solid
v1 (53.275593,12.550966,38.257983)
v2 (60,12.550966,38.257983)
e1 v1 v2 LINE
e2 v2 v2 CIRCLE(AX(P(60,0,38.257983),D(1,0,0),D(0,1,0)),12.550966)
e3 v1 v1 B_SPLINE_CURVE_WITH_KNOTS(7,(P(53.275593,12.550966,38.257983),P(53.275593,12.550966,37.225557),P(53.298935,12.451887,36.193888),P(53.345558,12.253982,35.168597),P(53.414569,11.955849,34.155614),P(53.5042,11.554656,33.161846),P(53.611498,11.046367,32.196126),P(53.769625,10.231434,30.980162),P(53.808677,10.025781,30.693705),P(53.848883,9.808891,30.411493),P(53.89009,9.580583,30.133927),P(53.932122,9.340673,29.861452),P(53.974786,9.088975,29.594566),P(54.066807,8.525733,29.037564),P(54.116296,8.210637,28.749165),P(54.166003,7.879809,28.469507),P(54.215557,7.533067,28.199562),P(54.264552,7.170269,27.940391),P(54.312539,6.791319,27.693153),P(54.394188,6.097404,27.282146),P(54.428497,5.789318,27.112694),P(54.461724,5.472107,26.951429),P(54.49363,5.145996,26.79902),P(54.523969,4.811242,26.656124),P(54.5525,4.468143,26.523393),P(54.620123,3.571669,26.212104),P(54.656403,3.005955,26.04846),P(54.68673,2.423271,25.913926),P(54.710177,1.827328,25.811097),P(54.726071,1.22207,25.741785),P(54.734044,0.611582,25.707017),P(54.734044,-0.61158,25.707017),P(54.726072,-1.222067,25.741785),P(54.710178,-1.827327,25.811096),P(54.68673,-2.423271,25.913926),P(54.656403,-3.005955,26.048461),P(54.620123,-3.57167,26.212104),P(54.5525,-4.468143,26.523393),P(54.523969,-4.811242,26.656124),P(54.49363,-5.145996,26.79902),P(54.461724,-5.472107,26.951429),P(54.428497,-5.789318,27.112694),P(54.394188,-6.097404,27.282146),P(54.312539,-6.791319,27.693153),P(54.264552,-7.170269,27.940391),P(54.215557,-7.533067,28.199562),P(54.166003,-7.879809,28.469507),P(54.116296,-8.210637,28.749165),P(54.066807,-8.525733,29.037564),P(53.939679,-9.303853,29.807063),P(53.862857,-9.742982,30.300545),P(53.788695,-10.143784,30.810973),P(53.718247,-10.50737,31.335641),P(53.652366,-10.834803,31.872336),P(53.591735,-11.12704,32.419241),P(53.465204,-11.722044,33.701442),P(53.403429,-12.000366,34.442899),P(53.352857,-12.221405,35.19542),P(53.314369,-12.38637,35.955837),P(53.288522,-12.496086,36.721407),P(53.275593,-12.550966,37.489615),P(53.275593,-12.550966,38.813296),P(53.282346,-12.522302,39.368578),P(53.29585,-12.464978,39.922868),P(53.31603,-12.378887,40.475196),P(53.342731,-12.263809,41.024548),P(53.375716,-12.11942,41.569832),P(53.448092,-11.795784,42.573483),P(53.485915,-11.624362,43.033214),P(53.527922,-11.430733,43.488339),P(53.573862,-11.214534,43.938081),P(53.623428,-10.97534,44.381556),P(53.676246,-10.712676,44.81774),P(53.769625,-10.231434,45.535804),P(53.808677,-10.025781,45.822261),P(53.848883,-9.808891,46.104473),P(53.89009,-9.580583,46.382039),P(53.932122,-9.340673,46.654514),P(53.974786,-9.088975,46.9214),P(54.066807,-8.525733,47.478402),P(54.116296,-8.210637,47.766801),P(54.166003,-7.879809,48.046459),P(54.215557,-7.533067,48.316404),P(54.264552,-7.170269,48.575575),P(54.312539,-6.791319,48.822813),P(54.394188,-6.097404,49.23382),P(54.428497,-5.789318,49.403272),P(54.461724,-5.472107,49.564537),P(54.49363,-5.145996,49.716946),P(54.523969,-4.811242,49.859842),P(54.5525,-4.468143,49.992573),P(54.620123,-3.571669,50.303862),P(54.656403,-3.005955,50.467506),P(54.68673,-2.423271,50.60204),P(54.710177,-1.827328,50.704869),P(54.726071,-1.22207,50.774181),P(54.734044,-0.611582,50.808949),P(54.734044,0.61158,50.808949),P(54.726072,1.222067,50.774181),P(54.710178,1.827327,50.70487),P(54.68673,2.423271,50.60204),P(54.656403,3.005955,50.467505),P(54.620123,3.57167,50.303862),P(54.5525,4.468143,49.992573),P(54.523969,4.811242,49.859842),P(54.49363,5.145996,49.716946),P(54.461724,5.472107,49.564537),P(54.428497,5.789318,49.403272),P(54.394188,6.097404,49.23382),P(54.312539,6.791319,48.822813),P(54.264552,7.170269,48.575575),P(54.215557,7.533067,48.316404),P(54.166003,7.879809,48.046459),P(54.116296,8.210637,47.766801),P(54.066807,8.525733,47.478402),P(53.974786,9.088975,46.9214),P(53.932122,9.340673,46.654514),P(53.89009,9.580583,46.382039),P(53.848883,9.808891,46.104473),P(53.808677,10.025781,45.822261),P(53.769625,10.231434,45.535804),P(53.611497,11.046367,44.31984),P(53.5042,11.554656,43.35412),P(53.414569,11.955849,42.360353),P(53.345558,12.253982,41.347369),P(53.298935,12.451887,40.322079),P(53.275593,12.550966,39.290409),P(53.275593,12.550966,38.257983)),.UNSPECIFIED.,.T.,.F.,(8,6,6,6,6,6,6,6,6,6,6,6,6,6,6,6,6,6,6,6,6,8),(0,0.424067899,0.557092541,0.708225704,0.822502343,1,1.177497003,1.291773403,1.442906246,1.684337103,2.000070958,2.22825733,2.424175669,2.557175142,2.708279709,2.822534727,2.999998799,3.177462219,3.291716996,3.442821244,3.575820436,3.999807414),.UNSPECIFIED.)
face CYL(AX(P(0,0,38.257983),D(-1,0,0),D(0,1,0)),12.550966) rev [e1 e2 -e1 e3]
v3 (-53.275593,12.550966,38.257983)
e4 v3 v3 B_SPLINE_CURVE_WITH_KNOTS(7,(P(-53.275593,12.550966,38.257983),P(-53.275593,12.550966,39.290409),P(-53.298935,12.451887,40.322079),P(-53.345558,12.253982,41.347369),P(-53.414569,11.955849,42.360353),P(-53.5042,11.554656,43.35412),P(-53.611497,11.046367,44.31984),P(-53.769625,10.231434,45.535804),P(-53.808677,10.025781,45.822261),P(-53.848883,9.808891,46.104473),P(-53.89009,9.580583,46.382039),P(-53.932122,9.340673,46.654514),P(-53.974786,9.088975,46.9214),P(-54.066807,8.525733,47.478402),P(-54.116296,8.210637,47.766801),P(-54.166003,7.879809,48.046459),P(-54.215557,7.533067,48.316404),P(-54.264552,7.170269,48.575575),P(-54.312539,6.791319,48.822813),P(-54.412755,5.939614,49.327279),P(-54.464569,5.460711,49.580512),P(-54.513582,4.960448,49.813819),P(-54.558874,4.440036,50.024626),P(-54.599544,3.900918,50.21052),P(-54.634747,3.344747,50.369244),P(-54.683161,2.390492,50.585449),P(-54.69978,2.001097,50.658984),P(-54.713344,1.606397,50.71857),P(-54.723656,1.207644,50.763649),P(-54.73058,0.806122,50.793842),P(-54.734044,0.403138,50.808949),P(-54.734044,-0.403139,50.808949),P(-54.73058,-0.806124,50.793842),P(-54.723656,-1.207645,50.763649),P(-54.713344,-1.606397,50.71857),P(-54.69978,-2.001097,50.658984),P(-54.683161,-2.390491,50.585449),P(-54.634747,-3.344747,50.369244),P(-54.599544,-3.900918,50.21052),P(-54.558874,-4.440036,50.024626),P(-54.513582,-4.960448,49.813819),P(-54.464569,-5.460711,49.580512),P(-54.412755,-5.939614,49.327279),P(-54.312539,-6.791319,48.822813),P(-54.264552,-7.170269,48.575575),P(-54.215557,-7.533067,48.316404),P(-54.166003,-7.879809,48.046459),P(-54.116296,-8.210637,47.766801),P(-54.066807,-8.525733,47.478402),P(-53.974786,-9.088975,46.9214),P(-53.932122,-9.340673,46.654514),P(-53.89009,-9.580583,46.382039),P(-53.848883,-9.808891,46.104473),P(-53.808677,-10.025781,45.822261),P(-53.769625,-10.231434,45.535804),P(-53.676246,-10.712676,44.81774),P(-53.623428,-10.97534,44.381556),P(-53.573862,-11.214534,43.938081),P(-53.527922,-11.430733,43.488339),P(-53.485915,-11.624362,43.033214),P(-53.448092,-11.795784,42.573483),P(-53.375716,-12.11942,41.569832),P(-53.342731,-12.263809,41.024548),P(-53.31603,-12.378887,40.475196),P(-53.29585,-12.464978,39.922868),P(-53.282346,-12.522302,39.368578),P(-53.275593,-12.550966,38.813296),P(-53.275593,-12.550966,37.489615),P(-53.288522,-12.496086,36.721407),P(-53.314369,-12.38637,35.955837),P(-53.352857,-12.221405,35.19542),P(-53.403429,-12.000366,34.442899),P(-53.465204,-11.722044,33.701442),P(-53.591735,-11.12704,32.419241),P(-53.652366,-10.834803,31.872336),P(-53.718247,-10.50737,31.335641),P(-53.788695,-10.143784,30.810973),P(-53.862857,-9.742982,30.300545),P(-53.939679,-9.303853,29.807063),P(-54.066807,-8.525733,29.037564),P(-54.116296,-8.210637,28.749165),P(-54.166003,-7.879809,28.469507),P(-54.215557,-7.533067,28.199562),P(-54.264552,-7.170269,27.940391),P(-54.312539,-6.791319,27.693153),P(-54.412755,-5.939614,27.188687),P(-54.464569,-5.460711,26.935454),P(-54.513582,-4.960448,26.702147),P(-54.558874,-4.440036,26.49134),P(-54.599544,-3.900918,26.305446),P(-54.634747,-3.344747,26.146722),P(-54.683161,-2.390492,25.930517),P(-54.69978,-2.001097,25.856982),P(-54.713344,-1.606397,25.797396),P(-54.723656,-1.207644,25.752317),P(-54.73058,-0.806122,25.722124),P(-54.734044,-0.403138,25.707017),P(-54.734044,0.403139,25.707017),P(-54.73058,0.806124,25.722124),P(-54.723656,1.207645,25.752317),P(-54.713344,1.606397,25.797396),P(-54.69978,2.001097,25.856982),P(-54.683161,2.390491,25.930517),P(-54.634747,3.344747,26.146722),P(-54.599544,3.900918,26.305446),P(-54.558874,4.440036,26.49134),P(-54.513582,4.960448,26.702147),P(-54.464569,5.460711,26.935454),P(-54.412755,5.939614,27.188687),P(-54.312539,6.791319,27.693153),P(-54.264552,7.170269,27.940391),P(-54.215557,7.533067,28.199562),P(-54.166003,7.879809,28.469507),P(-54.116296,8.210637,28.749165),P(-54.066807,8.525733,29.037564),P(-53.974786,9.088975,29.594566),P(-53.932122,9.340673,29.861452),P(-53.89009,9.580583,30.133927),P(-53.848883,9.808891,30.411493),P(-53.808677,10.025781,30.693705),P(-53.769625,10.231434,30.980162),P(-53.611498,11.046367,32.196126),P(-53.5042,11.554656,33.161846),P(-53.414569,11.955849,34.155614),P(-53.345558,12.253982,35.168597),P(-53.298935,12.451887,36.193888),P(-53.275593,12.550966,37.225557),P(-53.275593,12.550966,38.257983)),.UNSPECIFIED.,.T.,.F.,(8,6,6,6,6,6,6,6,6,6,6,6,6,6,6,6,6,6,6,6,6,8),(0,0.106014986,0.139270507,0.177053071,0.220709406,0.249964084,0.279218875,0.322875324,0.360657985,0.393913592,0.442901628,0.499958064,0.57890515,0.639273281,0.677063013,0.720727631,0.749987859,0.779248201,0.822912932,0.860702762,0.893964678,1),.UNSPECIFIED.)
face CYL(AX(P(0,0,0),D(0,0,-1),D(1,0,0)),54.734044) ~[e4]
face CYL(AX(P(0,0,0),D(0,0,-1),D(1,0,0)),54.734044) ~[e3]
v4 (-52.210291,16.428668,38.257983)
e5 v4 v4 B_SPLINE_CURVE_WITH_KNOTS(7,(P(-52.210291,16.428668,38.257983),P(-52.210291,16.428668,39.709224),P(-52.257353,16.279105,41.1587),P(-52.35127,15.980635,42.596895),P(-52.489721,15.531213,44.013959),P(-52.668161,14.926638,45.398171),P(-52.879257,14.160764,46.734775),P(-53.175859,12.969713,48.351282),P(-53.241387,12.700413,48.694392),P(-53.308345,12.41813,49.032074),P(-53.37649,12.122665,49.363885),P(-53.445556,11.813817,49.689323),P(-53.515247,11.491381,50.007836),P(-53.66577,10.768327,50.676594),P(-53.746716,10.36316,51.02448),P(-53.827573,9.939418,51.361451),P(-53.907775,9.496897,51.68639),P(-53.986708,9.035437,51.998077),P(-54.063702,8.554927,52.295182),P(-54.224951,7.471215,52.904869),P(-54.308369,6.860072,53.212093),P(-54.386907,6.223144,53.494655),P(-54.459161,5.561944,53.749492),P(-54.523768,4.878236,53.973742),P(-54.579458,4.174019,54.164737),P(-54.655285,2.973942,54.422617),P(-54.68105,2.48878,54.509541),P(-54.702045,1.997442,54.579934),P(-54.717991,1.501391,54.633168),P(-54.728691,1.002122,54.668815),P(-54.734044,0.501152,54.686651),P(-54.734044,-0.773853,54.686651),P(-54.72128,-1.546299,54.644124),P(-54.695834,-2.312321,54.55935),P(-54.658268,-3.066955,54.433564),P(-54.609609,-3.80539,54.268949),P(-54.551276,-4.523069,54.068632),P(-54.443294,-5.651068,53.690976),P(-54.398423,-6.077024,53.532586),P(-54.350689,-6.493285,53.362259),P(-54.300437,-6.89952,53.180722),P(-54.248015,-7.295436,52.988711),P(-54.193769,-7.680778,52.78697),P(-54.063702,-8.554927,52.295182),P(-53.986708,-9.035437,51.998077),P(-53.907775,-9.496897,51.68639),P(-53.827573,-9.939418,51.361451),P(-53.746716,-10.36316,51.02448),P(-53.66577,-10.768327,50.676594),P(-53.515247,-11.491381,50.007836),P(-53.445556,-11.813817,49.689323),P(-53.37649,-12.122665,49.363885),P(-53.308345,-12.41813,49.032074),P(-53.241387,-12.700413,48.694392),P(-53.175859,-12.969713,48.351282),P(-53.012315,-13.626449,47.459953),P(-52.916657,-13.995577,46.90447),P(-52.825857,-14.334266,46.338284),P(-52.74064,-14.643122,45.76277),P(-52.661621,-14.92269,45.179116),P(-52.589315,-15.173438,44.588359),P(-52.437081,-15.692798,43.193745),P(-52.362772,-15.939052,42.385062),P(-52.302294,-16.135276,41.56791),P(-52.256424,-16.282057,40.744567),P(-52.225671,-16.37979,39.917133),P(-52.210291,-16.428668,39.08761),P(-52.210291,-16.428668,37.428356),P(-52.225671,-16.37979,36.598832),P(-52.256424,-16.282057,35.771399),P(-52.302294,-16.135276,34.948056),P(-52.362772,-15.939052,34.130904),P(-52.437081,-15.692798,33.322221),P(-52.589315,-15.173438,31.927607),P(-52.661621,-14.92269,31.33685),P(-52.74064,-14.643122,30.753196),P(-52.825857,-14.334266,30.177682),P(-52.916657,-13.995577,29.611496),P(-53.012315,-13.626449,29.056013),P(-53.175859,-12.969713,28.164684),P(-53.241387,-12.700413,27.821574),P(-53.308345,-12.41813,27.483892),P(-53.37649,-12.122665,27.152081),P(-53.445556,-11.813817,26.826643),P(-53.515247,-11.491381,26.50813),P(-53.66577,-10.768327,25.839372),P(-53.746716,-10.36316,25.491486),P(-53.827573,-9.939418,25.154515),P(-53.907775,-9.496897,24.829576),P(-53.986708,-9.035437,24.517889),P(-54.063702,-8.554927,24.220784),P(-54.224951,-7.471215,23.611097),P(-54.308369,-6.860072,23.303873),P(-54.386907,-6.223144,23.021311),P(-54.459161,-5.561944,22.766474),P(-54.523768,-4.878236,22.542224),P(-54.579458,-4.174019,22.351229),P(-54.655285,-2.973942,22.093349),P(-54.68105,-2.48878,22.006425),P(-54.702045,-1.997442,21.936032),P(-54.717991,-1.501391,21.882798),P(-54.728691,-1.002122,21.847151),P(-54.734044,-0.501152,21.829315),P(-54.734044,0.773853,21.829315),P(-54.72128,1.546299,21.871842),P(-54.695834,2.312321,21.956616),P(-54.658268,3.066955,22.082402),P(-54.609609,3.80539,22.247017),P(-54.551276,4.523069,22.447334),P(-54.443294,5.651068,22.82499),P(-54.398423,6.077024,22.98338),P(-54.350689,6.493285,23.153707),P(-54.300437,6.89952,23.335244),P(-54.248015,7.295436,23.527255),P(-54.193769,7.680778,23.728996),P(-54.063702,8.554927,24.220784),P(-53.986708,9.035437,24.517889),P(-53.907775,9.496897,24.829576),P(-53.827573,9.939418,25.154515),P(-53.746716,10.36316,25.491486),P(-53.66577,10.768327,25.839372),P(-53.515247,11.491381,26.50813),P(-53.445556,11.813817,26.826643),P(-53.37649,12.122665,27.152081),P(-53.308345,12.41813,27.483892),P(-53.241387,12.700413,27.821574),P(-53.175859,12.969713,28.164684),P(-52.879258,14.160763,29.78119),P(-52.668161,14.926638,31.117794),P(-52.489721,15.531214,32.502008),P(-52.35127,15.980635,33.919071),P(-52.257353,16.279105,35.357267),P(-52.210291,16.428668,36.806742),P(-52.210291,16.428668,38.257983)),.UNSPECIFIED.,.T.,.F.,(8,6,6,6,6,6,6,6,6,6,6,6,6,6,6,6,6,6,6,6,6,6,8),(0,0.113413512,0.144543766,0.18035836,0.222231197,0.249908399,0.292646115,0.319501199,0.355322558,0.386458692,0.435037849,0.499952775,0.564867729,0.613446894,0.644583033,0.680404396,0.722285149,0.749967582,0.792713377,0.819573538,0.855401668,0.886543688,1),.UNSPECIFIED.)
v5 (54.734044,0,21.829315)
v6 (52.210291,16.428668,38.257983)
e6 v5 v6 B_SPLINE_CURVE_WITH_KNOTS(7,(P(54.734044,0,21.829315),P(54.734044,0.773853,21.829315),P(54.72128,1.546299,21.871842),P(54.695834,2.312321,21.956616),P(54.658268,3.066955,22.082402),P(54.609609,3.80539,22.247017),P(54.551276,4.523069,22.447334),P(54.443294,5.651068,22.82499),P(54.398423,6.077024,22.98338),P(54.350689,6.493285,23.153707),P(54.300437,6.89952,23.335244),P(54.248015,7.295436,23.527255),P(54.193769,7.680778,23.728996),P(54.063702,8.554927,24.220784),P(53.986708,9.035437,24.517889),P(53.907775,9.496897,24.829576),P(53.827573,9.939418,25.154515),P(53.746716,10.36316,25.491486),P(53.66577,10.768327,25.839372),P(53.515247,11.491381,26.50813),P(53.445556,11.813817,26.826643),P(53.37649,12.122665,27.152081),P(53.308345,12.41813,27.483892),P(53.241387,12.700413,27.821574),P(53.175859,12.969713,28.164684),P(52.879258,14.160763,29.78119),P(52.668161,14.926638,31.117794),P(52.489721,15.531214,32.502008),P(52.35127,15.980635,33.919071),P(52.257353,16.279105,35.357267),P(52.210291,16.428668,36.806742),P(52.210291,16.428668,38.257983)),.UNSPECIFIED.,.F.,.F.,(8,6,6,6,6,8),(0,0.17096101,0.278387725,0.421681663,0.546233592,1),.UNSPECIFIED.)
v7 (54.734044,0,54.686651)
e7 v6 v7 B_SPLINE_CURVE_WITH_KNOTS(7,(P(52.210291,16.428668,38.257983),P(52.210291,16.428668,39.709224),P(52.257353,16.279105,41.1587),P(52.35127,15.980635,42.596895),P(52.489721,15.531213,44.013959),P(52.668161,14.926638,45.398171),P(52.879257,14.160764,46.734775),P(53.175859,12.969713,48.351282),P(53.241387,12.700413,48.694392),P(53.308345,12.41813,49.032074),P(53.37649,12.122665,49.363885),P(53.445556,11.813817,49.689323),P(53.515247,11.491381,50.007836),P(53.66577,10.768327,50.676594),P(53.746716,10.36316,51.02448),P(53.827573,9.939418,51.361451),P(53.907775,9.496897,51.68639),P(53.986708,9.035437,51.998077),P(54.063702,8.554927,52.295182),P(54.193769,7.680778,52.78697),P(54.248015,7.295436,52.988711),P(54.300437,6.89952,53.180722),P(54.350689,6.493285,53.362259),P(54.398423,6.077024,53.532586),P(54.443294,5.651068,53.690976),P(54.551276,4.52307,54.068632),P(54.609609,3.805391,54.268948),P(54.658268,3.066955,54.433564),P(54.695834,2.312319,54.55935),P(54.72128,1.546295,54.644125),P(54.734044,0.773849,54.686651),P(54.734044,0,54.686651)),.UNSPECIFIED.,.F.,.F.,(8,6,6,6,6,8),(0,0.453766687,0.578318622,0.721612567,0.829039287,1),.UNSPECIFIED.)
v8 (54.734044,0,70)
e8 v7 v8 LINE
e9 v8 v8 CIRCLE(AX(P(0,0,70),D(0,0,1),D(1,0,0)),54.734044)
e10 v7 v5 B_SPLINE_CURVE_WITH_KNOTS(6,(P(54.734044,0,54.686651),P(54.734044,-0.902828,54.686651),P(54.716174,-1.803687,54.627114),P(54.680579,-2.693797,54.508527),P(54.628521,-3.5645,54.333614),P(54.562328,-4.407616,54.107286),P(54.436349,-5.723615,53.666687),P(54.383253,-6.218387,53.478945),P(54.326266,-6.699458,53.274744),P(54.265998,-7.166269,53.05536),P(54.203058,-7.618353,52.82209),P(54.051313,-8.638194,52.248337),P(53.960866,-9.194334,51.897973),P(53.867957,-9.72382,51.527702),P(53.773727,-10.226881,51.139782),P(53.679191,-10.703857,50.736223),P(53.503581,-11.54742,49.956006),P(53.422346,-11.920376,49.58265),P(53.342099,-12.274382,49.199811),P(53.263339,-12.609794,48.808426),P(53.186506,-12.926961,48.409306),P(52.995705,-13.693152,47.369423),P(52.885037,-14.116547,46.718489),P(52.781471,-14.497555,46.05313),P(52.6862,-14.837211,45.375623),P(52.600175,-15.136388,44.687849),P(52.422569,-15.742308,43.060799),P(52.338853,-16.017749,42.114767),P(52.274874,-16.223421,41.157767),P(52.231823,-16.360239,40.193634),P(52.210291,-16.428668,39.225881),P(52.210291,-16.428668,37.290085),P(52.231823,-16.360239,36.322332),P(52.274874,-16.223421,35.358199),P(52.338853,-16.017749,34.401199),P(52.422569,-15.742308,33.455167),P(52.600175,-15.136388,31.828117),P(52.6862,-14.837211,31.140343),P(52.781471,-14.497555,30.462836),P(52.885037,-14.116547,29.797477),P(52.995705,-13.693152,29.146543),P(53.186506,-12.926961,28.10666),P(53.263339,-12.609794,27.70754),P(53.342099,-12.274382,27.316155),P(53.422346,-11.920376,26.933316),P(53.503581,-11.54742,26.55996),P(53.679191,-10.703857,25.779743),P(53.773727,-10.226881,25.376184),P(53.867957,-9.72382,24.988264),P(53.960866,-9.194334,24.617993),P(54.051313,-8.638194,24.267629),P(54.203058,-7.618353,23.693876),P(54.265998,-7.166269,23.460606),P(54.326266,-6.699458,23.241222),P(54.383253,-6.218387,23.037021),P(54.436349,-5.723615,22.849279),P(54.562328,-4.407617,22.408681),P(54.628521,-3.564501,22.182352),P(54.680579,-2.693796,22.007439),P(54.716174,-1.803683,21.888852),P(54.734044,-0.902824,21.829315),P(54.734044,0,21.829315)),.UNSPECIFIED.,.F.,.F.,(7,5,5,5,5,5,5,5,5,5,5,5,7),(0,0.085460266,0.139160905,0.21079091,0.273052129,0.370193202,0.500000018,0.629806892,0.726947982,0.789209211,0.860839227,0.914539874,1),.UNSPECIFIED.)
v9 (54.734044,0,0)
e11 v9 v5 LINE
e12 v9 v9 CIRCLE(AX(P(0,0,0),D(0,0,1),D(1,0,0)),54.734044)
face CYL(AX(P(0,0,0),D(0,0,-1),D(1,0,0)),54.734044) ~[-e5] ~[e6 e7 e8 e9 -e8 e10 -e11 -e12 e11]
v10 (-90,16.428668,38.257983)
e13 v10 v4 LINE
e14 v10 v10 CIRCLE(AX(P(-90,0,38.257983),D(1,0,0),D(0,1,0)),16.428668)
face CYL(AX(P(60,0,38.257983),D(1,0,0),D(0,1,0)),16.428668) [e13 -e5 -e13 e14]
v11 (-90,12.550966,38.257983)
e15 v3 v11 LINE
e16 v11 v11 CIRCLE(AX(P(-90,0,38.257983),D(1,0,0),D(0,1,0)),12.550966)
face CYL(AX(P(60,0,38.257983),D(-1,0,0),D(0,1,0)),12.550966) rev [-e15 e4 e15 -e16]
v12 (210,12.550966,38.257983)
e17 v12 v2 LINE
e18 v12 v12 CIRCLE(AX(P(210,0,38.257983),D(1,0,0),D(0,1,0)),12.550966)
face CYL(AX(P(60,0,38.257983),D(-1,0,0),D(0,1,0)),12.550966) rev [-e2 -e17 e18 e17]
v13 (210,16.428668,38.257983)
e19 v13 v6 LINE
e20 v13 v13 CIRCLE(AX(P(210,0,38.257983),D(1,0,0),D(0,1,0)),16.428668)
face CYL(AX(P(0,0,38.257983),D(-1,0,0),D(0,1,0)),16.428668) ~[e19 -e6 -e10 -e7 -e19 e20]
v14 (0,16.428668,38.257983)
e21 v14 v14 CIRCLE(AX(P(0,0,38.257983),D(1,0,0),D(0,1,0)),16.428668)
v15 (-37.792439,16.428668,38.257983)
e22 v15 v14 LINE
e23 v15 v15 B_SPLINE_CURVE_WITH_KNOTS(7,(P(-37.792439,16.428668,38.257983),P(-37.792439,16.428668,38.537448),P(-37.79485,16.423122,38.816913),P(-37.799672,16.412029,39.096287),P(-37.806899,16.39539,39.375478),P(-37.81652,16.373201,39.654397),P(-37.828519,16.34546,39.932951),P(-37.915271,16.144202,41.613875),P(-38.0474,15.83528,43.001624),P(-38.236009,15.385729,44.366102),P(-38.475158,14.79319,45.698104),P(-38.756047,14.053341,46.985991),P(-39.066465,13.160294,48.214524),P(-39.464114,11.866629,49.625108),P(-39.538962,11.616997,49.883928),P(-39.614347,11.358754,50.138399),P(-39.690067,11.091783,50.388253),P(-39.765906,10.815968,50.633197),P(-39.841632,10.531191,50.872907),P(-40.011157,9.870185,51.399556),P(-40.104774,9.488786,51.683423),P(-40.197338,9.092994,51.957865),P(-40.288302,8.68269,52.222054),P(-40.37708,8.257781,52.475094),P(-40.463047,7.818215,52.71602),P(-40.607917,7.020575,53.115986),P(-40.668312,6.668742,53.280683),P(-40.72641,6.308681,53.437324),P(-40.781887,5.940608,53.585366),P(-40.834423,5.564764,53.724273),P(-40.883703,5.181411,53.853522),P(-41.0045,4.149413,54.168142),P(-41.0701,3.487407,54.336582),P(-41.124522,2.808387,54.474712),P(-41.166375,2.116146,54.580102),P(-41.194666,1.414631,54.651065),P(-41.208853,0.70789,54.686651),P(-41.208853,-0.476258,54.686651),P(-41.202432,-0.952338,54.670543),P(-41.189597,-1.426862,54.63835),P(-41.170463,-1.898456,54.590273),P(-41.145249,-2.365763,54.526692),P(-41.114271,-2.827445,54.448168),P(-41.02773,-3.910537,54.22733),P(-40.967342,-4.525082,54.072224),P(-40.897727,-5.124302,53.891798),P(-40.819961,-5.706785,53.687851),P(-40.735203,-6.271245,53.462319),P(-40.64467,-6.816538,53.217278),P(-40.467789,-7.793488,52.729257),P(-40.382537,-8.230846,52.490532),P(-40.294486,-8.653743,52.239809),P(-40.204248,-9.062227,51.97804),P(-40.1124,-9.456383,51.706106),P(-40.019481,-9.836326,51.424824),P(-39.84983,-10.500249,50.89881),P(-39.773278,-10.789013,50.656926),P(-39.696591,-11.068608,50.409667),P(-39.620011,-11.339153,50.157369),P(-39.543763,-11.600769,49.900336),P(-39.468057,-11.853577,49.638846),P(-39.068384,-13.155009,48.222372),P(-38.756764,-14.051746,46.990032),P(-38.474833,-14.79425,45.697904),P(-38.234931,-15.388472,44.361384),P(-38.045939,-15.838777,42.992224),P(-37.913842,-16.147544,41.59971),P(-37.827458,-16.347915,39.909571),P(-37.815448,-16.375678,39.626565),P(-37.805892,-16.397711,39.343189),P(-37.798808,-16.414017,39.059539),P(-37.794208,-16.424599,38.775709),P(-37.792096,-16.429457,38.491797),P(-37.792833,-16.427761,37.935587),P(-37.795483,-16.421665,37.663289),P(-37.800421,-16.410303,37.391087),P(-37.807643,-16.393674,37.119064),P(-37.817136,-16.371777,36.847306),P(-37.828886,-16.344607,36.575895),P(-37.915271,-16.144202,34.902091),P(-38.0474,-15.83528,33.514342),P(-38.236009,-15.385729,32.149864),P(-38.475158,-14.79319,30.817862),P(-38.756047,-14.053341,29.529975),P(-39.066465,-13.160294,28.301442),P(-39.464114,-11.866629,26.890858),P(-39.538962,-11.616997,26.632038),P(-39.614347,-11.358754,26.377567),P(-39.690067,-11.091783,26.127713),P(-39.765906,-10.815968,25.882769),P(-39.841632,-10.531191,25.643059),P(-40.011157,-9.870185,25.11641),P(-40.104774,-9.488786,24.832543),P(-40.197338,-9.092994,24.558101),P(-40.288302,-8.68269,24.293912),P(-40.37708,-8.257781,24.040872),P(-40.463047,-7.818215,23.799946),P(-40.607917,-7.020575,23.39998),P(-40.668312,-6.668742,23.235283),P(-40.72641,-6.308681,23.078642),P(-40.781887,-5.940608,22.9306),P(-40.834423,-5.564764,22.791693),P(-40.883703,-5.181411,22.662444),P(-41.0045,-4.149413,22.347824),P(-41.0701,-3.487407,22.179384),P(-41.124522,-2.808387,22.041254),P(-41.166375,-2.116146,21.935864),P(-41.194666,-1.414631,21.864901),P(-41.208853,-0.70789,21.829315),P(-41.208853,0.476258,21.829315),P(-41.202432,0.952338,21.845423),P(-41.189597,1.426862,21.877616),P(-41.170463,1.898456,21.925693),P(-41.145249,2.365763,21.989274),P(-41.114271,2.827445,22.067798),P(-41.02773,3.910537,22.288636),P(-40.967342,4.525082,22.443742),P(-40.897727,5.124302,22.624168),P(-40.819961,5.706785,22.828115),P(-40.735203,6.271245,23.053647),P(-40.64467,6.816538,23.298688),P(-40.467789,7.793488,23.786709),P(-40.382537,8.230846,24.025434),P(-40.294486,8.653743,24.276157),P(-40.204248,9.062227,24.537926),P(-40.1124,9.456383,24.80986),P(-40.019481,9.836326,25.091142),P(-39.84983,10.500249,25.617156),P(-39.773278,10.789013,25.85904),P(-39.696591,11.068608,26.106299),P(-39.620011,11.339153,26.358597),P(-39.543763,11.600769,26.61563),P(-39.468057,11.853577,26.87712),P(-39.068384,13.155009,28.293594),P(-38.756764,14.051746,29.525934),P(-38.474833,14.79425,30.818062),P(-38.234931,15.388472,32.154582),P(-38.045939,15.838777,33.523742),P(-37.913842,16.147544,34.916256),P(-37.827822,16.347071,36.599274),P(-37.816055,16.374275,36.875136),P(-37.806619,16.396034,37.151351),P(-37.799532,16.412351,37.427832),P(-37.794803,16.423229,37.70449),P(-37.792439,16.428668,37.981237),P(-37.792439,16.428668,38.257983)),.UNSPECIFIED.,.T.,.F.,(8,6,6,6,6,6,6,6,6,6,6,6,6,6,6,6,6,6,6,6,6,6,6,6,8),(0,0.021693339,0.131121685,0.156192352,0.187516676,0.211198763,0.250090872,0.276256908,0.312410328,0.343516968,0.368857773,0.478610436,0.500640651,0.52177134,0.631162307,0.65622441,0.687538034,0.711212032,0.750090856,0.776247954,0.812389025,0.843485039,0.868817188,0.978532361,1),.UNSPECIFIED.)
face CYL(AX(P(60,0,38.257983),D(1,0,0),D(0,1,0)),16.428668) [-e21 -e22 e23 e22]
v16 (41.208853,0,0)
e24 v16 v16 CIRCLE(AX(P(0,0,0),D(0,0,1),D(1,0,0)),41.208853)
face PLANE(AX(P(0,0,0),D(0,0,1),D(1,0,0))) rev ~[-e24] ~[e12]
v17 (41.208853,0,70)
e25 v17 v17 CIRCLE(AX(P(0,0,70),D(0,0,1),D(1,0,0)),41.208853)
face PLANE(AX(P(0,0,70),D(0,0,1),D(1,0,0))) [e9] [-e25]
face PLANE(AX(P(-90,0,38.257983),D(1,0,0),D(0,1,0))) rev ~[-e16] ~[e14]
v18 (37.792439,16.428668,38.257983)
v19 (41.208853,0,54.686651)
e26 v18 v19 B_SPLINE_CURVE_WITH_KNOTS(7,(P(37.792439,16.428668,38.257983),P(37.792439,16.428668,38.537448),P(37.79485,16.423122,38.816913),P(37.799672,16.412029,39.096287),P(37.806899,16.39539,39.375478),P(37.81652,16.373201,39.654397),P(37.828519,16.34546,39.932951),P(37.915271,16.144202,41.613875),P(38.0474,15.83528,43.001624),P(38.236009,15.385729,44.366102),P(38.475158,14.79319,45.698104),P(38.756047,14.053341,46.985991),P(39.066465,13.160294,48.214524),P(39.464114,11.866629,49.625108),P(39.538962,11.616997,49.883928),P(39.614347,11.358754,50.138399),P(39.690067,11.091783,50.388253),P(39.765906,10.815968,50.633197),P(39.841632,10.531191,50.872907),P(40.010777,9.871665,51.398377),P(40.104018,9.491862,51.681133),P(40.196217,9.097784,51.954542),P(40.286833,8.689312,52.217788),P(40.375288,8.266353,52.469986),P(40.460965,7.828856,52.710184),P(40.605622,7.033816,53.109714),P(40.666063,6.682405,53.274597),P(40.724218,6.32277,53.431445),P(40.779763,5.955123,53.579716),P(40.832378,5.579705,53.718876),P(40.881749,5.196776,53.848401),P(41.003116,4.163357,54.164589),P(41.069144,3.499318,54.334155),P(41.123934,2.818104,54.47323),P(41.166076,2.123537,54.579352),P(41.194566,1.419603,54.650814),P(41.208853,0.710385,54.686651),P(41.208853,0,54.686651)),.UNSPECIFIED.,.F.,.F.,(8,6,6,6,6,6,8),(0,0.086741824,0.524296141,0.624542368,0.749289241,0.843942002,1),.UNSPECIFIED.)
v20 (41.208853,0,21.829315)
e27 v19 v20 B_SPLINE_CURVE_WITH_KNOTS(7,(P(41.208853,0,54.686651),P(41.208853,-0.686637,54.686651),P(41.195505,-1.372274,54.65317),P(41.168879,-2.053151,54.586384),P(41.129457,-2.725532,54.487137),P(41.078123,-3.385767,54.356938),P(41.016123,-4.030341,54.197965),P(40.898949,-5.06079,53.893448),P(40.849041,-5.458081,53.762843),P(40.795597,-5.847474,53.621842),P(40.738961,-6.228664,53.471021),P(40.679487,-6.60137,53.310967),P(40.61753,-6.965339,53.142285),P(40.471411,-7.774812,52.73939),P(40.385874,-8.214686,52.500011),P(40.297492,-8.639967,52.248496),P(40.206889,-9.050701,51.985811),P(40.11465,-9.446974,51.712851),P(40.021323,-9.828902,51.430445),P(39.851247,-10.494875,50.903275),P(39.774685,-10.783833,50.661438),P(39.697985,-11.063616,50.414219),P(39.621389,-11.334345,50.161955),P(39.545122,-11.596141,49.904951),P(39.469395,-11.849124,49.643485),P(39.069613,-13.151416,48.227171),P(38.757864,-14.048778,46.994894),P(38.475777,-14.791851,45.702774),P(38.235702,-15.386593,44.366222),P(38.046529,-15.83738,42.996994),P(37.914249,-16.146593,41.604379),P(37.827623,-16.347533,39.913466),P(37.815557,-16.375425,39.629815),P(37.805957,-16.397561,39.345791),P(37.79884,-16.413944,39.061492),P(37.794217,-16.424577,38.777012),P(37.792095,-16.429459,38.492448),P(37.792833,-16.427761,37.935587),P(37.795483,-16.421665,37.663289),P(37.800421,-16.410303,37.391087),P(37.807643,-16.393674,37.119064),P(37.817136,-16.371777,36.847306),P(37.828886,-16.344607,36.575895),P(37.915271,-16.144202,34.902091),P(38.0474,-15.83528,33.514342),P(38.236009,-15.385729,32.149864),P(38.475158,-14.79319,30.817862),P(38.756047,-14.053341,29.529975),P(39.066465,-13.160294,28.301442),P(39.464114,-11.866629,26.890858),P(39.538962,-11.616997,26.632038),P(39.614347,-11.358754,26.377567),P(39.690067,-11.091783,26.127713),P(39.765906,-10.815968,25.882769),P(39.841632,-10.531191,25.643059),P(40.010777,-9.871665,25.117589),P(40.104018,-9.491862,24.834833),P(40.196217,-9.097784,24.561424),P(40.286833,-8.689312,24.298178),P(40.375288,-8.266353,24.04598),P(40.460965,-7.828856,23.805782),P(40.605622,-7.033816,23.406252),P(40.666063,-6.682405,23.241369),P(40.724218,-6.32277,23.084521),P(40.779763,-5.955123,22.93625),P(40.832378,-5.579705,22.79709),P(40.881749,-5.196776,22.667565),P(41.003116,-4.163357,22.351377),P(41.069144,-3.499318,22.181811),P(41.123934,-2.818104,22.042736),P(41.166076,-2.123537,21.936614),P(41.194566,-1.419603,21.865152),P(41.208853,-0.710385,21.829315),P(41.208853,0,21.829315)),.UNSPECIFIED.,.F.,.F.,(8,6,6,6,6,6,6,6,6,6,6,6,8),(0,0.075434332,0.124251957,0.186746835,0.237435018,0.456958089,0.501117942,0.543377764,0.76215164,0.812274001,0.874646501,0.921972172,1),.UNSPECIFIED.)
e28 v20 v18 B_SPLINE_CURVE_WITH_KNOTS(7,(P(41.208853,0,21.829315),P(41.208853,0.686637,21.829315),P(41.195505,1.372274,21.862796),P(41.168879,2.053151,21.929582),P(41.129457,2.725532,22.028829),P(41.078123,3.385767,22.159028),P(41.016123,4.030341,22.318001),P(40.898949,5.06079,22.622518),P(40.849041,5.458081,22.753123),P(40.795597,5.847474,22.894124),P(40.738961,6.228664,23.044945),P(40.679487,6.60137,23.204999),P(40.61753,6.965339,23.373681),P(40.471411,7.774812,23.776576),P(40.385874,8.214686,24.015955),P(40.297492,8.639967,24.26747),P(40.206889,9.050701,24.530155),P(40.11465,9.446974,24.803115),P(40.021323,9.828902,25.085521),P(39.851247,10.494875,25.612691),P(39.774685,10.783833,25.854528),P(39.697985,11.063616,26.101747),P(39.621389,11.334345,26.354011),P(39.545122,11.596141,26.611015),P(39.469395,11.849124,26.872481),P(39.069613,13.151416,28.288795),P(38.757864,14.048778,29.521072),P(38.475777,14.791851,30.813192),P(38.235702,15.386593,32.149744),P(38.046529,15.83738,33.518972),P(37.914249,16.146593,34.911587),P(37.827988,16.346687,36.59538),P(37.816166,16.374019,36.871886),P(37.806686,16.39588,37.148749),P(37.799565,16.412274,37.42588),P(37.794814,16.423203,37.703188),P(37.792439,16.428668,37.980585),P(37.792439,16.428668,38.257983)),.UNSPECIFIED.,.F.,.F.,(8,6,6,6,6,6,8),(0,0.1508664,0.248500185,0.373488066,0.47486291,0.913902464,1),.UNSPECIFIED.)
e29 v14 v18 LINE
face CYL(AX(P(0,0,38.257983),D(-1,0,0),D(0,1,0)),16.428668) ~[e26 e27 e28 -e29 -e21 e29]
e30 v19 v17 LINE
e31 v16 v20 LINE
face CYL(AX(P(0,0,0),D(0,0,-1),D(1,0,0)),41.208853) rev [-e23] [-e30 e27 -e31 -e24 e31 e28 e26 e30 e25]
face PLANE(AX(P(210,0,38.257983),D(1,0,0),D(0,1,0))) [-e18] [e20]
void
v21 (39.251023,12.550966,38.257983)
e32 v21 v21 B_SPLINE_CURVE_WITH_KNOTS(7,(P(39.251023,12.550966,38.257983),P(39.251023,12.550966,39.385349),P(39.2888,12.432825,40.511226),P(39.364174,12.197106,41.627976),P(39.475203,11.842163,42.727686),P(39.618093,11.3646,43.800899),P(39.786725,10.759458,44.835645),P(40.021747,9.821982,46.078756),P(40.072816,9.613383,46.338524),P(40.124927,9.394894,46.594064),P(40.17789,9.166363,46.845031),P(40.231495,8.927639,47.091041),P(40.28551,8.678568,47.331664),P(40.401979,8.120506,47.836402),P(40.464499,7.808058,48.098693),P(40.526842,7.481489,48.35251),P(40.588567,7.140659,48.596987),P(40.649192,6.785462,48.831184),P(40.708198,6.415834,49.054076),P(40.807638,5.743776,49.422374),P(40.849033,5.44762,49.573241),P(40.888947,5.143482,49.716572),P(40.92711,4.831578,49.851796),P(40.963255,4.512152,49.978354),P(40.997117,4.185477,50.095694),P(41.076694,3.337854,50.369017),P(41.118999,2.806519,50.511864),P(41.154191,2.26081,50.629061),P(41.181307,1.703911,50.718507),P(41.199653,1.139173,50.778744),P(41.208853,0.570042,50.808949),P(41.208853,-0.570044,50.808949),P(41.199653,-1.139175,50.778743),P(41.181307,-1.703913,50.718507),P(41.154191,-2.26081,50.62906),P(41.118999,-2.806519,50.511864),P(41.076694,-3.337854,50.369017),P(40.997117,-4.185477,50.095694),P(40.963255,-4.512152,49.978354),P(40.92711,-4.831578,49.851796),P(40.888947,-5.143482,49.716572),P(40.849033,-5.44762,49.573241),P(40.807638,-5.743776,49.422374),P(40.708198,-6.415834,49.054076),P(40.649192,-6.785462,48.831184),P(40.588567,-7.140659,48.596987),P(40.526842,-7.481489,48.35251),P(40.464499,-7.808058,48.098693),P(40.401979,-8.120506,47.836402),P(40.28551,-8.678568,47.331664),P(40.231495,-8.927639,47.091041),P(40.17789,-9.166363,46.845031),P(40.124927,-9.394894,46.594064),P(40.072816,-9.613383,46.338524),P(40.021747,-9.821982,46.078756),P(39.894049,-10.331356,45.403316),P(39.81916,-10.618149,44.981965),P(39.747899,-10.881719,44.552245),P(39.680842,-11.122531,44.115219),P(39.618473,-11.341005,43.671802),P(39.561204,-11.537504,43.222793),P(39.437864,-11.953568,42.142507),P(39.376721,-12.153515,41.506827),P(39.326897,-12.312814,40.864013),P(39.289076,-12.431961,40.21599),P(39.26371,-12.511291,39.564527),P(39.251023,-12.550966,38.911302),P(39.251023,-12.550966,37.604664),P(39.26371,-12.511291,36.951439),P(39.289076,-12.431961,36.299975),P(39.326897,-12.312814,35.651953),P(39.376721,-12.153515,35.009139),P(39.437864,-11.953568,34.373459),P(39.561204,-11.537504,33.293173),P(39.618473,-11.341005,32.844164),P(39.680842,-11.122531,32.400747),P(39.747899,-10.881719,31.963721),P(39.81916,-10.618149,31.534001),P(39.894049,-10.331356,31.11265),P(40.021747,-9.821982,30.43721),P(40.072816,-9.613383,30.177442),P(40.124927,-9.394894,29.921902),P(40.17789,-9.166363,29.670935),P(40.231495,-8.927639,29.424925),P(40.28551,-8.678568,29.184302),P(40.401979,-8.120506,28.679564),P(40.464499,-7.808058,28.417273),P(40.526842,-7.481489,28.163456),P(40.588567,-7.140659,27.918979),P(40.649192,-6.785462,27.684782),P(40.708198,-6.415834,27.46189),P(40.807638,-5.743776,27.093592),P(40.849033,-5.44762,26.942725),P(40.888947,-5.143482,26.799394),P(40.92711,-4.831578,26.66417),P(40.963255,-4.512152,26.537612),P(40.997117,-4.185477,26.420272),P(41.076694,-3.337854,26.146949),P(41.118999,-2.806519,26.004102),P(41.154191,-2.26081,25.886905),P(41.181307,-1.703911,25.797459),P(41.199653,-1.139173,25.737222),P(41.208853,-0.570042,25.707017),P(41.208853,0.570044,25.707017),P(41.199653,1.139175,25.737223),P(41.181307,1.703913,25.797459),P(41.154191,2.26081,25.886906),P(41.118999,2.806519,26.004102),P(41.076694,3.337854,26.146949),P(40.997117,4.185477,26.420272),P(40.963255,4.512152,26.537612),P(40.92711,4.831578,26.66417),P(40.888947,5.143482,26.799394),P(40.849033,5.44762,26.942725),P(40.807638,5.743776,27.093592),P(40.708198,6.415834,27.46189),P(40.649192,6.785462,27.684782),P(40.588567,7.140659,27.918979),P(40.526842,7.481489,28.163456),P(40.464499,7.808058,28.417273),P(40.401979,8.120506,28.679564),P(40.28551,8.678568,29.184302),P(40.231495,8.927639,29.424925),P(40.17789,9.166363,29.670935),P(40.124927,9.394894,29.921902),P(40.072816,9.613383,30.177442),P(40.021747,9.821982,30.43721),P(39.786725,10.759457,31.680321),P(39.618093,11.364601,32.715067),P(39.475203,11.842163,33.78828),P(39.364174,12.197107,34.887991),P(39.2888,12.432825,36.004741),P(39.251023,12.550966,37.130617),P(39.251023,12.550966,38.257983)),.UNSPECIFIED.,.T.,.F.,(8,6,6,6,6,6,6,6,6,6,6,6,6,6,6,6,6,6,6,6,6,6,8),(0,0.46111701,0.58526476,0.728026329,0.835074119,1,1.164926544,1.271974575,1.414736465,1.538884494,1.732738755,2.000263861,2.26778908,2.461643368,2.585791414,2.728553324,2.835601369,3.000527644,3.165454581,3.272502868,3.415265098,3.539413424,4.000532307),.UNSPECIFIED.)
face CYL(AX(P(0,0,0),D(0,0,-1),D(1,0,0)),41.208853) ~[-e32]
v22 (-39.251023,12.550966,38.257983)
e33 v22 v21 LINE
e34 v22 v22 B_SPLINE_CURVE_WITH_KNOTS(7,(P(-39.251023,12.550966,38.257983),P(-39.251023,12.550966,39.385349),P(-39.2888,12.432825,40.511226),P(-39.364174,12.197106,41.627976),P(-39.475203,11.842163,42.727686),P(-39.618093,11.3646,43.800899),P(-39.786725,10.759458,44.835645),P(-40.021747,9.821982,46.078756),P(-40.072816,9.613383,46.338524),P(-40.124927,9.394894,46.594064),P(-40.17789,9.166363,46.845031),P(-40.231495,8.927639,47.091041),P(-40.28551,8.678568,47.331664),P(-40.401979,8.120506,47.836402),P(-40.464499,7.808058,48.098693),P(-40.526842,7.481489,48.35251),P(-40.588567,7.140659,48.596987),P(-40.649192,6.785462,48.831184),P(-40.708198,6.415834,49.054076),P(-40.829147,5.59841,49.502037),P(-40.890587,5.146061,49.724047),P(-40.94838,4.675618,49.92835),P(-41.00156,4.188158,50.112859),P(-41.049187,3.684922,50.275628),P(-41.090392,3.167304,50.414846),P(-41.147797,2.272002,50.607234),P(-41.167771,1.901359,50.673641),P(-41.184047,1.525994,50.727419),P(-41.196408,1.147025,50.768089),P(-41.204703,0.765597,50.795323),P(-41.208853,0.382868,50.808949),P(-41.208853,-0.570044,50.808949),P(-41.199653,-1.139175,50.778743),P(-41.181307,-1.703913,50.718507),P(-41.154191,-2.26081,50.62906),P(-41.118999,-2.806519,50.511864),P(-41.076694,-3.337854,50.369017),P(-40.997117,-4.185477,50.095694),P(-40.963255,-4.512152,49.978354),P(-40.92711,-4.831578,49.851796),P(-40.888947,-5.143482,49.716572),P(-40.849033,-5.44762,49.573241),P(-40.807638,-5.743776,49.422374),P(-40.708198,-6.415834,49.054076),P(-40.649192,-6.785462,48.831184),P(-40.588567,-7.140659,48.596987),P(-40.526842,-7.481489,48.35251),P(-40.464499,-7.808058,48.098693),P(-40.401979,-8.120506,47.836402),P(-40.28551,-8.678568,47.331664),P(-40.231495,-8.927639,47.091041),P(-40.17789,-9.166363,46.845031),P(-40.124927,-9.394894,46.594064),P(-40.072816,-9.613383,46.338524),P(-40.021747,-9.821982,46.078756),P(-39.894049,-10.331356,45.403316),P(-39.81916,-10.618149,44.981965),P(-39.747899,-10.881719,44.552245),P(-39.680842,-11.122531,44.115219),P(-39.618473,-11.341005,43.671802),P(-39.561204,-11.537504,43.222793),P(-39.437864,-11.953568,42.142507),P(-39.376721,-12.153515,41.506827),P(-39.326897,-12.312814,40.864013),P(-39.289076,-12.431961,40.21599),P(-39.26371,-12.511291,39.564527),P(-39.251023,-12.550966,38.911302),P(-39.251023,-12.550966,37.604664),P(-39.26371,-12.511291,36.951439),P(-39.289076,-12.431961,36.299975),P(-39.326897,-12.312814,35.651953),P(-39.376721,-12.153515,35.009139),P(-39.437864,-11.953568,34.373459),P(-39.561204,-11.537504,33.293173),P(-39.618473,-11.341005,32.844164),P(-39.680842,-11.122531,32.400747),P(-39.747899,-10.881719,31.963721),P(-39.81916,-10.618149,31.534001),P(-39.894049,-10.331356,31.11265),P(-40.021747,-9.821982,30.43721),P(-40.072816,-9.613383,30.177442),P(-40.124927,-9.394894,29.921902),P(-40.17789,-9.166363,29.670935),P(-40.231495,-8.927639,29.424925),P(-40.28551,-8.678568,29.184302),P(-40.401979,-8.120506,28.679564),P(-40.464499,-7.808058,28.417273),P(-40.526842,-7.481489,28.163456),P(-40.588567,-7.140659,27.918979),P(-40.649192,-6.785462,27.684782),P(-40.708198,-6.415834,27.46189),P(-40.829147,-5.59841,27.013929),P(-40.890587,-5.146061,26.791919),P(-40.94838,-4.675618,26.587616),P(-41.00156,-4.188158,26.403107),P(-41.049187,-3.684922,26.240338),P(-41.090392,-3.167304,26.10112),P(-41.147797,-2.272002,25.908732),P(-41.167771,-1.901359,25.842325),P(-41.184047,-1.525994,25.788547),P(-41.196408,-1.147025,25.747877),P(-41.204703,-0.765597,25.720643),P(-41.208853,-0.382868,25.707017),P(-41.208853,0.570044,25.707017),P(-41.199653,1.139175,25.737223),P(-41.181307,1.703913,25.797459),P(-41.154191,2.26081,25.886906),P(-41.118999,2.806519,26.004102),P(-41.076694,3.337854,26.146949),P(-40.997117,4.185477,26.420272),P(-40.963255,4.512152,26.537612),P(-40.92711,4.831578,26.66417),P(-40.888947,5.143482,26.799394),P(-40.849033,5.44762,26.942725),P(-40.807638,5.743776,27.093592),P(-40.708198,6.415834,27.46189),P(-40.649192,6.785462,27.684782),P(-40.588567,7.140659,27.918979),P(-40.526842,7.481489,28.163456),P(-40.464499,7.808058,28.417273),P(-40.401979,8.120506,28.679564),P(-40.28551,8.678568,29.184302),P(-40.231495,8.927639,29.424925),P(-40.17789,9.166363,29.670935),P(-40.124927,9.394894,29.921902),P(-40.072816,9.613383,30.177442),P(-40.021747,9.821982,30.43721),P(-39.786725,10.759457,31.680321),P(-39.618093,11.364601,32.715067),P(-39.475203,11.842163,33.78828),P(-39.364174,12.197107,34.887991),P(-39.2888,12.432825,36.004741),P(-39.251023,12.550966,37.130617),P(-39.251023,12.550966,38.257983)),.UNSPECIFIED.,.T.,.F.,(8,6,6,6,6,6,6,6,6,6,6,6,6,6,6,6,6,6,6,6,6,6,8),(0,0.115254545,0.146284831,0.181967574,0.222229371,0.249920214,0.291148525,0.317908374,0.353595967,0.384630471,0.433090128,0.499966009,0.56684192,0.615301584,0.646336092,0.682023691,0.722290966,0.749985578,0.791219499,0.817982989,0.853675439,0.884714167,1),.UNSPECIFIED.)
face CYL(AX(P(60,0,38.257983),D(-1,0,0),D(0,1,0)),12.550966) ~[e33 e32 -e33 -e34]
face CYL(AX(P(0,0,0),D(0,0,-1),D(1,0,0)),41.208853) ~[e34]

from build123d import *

# Parameters (mm, degrees)
F0_R        = 54.734044
F0_R_2      = 41.208853
F1_DEPTH    = 70
F2_R        = 16.428668
F2_R_2      = 12.550966
F3_DEPTH    = 60
F3_FACE_R   = 16.428668
F3_FACE_R_2 = 12.550966
F4_DEPTH    = 150


with BuildPart() as f1:
    # F0 (on Top) → F1 (new body)
    with BuildSketch(Plane.XY):
        Circle(F0_R)
        Circle(F0_R_2, mode=Mode.SUBTRACT)
    extrude(amount=F1_DEPTH)

    # F2 (on Right) → F3 (join)
    with BuildSketch(Plane.YZ):
        with Locations((0, 38.257983)):
            Circle(F2_R)
        with Locations((0, 38.257983)):
            Circle(F2_R_2, mode=Mode.SUBTRACT)
    extrude(amount=F3_DEPTH)

    # F3_face (on face) → F4 (join, symmetric)
    with BuildSketch(Plane(origin=(60, 0, 38.257983), x_dir=(0, 1, 0), z_dir=(1, 0, 0))):
        Circle(F3_FACE_R)
        Circle(F3_FACE_R_2, mode=Mode.SUBTRACT)
    extrude(amount=F4_DEPTH, both=True)


solid = f1.part
